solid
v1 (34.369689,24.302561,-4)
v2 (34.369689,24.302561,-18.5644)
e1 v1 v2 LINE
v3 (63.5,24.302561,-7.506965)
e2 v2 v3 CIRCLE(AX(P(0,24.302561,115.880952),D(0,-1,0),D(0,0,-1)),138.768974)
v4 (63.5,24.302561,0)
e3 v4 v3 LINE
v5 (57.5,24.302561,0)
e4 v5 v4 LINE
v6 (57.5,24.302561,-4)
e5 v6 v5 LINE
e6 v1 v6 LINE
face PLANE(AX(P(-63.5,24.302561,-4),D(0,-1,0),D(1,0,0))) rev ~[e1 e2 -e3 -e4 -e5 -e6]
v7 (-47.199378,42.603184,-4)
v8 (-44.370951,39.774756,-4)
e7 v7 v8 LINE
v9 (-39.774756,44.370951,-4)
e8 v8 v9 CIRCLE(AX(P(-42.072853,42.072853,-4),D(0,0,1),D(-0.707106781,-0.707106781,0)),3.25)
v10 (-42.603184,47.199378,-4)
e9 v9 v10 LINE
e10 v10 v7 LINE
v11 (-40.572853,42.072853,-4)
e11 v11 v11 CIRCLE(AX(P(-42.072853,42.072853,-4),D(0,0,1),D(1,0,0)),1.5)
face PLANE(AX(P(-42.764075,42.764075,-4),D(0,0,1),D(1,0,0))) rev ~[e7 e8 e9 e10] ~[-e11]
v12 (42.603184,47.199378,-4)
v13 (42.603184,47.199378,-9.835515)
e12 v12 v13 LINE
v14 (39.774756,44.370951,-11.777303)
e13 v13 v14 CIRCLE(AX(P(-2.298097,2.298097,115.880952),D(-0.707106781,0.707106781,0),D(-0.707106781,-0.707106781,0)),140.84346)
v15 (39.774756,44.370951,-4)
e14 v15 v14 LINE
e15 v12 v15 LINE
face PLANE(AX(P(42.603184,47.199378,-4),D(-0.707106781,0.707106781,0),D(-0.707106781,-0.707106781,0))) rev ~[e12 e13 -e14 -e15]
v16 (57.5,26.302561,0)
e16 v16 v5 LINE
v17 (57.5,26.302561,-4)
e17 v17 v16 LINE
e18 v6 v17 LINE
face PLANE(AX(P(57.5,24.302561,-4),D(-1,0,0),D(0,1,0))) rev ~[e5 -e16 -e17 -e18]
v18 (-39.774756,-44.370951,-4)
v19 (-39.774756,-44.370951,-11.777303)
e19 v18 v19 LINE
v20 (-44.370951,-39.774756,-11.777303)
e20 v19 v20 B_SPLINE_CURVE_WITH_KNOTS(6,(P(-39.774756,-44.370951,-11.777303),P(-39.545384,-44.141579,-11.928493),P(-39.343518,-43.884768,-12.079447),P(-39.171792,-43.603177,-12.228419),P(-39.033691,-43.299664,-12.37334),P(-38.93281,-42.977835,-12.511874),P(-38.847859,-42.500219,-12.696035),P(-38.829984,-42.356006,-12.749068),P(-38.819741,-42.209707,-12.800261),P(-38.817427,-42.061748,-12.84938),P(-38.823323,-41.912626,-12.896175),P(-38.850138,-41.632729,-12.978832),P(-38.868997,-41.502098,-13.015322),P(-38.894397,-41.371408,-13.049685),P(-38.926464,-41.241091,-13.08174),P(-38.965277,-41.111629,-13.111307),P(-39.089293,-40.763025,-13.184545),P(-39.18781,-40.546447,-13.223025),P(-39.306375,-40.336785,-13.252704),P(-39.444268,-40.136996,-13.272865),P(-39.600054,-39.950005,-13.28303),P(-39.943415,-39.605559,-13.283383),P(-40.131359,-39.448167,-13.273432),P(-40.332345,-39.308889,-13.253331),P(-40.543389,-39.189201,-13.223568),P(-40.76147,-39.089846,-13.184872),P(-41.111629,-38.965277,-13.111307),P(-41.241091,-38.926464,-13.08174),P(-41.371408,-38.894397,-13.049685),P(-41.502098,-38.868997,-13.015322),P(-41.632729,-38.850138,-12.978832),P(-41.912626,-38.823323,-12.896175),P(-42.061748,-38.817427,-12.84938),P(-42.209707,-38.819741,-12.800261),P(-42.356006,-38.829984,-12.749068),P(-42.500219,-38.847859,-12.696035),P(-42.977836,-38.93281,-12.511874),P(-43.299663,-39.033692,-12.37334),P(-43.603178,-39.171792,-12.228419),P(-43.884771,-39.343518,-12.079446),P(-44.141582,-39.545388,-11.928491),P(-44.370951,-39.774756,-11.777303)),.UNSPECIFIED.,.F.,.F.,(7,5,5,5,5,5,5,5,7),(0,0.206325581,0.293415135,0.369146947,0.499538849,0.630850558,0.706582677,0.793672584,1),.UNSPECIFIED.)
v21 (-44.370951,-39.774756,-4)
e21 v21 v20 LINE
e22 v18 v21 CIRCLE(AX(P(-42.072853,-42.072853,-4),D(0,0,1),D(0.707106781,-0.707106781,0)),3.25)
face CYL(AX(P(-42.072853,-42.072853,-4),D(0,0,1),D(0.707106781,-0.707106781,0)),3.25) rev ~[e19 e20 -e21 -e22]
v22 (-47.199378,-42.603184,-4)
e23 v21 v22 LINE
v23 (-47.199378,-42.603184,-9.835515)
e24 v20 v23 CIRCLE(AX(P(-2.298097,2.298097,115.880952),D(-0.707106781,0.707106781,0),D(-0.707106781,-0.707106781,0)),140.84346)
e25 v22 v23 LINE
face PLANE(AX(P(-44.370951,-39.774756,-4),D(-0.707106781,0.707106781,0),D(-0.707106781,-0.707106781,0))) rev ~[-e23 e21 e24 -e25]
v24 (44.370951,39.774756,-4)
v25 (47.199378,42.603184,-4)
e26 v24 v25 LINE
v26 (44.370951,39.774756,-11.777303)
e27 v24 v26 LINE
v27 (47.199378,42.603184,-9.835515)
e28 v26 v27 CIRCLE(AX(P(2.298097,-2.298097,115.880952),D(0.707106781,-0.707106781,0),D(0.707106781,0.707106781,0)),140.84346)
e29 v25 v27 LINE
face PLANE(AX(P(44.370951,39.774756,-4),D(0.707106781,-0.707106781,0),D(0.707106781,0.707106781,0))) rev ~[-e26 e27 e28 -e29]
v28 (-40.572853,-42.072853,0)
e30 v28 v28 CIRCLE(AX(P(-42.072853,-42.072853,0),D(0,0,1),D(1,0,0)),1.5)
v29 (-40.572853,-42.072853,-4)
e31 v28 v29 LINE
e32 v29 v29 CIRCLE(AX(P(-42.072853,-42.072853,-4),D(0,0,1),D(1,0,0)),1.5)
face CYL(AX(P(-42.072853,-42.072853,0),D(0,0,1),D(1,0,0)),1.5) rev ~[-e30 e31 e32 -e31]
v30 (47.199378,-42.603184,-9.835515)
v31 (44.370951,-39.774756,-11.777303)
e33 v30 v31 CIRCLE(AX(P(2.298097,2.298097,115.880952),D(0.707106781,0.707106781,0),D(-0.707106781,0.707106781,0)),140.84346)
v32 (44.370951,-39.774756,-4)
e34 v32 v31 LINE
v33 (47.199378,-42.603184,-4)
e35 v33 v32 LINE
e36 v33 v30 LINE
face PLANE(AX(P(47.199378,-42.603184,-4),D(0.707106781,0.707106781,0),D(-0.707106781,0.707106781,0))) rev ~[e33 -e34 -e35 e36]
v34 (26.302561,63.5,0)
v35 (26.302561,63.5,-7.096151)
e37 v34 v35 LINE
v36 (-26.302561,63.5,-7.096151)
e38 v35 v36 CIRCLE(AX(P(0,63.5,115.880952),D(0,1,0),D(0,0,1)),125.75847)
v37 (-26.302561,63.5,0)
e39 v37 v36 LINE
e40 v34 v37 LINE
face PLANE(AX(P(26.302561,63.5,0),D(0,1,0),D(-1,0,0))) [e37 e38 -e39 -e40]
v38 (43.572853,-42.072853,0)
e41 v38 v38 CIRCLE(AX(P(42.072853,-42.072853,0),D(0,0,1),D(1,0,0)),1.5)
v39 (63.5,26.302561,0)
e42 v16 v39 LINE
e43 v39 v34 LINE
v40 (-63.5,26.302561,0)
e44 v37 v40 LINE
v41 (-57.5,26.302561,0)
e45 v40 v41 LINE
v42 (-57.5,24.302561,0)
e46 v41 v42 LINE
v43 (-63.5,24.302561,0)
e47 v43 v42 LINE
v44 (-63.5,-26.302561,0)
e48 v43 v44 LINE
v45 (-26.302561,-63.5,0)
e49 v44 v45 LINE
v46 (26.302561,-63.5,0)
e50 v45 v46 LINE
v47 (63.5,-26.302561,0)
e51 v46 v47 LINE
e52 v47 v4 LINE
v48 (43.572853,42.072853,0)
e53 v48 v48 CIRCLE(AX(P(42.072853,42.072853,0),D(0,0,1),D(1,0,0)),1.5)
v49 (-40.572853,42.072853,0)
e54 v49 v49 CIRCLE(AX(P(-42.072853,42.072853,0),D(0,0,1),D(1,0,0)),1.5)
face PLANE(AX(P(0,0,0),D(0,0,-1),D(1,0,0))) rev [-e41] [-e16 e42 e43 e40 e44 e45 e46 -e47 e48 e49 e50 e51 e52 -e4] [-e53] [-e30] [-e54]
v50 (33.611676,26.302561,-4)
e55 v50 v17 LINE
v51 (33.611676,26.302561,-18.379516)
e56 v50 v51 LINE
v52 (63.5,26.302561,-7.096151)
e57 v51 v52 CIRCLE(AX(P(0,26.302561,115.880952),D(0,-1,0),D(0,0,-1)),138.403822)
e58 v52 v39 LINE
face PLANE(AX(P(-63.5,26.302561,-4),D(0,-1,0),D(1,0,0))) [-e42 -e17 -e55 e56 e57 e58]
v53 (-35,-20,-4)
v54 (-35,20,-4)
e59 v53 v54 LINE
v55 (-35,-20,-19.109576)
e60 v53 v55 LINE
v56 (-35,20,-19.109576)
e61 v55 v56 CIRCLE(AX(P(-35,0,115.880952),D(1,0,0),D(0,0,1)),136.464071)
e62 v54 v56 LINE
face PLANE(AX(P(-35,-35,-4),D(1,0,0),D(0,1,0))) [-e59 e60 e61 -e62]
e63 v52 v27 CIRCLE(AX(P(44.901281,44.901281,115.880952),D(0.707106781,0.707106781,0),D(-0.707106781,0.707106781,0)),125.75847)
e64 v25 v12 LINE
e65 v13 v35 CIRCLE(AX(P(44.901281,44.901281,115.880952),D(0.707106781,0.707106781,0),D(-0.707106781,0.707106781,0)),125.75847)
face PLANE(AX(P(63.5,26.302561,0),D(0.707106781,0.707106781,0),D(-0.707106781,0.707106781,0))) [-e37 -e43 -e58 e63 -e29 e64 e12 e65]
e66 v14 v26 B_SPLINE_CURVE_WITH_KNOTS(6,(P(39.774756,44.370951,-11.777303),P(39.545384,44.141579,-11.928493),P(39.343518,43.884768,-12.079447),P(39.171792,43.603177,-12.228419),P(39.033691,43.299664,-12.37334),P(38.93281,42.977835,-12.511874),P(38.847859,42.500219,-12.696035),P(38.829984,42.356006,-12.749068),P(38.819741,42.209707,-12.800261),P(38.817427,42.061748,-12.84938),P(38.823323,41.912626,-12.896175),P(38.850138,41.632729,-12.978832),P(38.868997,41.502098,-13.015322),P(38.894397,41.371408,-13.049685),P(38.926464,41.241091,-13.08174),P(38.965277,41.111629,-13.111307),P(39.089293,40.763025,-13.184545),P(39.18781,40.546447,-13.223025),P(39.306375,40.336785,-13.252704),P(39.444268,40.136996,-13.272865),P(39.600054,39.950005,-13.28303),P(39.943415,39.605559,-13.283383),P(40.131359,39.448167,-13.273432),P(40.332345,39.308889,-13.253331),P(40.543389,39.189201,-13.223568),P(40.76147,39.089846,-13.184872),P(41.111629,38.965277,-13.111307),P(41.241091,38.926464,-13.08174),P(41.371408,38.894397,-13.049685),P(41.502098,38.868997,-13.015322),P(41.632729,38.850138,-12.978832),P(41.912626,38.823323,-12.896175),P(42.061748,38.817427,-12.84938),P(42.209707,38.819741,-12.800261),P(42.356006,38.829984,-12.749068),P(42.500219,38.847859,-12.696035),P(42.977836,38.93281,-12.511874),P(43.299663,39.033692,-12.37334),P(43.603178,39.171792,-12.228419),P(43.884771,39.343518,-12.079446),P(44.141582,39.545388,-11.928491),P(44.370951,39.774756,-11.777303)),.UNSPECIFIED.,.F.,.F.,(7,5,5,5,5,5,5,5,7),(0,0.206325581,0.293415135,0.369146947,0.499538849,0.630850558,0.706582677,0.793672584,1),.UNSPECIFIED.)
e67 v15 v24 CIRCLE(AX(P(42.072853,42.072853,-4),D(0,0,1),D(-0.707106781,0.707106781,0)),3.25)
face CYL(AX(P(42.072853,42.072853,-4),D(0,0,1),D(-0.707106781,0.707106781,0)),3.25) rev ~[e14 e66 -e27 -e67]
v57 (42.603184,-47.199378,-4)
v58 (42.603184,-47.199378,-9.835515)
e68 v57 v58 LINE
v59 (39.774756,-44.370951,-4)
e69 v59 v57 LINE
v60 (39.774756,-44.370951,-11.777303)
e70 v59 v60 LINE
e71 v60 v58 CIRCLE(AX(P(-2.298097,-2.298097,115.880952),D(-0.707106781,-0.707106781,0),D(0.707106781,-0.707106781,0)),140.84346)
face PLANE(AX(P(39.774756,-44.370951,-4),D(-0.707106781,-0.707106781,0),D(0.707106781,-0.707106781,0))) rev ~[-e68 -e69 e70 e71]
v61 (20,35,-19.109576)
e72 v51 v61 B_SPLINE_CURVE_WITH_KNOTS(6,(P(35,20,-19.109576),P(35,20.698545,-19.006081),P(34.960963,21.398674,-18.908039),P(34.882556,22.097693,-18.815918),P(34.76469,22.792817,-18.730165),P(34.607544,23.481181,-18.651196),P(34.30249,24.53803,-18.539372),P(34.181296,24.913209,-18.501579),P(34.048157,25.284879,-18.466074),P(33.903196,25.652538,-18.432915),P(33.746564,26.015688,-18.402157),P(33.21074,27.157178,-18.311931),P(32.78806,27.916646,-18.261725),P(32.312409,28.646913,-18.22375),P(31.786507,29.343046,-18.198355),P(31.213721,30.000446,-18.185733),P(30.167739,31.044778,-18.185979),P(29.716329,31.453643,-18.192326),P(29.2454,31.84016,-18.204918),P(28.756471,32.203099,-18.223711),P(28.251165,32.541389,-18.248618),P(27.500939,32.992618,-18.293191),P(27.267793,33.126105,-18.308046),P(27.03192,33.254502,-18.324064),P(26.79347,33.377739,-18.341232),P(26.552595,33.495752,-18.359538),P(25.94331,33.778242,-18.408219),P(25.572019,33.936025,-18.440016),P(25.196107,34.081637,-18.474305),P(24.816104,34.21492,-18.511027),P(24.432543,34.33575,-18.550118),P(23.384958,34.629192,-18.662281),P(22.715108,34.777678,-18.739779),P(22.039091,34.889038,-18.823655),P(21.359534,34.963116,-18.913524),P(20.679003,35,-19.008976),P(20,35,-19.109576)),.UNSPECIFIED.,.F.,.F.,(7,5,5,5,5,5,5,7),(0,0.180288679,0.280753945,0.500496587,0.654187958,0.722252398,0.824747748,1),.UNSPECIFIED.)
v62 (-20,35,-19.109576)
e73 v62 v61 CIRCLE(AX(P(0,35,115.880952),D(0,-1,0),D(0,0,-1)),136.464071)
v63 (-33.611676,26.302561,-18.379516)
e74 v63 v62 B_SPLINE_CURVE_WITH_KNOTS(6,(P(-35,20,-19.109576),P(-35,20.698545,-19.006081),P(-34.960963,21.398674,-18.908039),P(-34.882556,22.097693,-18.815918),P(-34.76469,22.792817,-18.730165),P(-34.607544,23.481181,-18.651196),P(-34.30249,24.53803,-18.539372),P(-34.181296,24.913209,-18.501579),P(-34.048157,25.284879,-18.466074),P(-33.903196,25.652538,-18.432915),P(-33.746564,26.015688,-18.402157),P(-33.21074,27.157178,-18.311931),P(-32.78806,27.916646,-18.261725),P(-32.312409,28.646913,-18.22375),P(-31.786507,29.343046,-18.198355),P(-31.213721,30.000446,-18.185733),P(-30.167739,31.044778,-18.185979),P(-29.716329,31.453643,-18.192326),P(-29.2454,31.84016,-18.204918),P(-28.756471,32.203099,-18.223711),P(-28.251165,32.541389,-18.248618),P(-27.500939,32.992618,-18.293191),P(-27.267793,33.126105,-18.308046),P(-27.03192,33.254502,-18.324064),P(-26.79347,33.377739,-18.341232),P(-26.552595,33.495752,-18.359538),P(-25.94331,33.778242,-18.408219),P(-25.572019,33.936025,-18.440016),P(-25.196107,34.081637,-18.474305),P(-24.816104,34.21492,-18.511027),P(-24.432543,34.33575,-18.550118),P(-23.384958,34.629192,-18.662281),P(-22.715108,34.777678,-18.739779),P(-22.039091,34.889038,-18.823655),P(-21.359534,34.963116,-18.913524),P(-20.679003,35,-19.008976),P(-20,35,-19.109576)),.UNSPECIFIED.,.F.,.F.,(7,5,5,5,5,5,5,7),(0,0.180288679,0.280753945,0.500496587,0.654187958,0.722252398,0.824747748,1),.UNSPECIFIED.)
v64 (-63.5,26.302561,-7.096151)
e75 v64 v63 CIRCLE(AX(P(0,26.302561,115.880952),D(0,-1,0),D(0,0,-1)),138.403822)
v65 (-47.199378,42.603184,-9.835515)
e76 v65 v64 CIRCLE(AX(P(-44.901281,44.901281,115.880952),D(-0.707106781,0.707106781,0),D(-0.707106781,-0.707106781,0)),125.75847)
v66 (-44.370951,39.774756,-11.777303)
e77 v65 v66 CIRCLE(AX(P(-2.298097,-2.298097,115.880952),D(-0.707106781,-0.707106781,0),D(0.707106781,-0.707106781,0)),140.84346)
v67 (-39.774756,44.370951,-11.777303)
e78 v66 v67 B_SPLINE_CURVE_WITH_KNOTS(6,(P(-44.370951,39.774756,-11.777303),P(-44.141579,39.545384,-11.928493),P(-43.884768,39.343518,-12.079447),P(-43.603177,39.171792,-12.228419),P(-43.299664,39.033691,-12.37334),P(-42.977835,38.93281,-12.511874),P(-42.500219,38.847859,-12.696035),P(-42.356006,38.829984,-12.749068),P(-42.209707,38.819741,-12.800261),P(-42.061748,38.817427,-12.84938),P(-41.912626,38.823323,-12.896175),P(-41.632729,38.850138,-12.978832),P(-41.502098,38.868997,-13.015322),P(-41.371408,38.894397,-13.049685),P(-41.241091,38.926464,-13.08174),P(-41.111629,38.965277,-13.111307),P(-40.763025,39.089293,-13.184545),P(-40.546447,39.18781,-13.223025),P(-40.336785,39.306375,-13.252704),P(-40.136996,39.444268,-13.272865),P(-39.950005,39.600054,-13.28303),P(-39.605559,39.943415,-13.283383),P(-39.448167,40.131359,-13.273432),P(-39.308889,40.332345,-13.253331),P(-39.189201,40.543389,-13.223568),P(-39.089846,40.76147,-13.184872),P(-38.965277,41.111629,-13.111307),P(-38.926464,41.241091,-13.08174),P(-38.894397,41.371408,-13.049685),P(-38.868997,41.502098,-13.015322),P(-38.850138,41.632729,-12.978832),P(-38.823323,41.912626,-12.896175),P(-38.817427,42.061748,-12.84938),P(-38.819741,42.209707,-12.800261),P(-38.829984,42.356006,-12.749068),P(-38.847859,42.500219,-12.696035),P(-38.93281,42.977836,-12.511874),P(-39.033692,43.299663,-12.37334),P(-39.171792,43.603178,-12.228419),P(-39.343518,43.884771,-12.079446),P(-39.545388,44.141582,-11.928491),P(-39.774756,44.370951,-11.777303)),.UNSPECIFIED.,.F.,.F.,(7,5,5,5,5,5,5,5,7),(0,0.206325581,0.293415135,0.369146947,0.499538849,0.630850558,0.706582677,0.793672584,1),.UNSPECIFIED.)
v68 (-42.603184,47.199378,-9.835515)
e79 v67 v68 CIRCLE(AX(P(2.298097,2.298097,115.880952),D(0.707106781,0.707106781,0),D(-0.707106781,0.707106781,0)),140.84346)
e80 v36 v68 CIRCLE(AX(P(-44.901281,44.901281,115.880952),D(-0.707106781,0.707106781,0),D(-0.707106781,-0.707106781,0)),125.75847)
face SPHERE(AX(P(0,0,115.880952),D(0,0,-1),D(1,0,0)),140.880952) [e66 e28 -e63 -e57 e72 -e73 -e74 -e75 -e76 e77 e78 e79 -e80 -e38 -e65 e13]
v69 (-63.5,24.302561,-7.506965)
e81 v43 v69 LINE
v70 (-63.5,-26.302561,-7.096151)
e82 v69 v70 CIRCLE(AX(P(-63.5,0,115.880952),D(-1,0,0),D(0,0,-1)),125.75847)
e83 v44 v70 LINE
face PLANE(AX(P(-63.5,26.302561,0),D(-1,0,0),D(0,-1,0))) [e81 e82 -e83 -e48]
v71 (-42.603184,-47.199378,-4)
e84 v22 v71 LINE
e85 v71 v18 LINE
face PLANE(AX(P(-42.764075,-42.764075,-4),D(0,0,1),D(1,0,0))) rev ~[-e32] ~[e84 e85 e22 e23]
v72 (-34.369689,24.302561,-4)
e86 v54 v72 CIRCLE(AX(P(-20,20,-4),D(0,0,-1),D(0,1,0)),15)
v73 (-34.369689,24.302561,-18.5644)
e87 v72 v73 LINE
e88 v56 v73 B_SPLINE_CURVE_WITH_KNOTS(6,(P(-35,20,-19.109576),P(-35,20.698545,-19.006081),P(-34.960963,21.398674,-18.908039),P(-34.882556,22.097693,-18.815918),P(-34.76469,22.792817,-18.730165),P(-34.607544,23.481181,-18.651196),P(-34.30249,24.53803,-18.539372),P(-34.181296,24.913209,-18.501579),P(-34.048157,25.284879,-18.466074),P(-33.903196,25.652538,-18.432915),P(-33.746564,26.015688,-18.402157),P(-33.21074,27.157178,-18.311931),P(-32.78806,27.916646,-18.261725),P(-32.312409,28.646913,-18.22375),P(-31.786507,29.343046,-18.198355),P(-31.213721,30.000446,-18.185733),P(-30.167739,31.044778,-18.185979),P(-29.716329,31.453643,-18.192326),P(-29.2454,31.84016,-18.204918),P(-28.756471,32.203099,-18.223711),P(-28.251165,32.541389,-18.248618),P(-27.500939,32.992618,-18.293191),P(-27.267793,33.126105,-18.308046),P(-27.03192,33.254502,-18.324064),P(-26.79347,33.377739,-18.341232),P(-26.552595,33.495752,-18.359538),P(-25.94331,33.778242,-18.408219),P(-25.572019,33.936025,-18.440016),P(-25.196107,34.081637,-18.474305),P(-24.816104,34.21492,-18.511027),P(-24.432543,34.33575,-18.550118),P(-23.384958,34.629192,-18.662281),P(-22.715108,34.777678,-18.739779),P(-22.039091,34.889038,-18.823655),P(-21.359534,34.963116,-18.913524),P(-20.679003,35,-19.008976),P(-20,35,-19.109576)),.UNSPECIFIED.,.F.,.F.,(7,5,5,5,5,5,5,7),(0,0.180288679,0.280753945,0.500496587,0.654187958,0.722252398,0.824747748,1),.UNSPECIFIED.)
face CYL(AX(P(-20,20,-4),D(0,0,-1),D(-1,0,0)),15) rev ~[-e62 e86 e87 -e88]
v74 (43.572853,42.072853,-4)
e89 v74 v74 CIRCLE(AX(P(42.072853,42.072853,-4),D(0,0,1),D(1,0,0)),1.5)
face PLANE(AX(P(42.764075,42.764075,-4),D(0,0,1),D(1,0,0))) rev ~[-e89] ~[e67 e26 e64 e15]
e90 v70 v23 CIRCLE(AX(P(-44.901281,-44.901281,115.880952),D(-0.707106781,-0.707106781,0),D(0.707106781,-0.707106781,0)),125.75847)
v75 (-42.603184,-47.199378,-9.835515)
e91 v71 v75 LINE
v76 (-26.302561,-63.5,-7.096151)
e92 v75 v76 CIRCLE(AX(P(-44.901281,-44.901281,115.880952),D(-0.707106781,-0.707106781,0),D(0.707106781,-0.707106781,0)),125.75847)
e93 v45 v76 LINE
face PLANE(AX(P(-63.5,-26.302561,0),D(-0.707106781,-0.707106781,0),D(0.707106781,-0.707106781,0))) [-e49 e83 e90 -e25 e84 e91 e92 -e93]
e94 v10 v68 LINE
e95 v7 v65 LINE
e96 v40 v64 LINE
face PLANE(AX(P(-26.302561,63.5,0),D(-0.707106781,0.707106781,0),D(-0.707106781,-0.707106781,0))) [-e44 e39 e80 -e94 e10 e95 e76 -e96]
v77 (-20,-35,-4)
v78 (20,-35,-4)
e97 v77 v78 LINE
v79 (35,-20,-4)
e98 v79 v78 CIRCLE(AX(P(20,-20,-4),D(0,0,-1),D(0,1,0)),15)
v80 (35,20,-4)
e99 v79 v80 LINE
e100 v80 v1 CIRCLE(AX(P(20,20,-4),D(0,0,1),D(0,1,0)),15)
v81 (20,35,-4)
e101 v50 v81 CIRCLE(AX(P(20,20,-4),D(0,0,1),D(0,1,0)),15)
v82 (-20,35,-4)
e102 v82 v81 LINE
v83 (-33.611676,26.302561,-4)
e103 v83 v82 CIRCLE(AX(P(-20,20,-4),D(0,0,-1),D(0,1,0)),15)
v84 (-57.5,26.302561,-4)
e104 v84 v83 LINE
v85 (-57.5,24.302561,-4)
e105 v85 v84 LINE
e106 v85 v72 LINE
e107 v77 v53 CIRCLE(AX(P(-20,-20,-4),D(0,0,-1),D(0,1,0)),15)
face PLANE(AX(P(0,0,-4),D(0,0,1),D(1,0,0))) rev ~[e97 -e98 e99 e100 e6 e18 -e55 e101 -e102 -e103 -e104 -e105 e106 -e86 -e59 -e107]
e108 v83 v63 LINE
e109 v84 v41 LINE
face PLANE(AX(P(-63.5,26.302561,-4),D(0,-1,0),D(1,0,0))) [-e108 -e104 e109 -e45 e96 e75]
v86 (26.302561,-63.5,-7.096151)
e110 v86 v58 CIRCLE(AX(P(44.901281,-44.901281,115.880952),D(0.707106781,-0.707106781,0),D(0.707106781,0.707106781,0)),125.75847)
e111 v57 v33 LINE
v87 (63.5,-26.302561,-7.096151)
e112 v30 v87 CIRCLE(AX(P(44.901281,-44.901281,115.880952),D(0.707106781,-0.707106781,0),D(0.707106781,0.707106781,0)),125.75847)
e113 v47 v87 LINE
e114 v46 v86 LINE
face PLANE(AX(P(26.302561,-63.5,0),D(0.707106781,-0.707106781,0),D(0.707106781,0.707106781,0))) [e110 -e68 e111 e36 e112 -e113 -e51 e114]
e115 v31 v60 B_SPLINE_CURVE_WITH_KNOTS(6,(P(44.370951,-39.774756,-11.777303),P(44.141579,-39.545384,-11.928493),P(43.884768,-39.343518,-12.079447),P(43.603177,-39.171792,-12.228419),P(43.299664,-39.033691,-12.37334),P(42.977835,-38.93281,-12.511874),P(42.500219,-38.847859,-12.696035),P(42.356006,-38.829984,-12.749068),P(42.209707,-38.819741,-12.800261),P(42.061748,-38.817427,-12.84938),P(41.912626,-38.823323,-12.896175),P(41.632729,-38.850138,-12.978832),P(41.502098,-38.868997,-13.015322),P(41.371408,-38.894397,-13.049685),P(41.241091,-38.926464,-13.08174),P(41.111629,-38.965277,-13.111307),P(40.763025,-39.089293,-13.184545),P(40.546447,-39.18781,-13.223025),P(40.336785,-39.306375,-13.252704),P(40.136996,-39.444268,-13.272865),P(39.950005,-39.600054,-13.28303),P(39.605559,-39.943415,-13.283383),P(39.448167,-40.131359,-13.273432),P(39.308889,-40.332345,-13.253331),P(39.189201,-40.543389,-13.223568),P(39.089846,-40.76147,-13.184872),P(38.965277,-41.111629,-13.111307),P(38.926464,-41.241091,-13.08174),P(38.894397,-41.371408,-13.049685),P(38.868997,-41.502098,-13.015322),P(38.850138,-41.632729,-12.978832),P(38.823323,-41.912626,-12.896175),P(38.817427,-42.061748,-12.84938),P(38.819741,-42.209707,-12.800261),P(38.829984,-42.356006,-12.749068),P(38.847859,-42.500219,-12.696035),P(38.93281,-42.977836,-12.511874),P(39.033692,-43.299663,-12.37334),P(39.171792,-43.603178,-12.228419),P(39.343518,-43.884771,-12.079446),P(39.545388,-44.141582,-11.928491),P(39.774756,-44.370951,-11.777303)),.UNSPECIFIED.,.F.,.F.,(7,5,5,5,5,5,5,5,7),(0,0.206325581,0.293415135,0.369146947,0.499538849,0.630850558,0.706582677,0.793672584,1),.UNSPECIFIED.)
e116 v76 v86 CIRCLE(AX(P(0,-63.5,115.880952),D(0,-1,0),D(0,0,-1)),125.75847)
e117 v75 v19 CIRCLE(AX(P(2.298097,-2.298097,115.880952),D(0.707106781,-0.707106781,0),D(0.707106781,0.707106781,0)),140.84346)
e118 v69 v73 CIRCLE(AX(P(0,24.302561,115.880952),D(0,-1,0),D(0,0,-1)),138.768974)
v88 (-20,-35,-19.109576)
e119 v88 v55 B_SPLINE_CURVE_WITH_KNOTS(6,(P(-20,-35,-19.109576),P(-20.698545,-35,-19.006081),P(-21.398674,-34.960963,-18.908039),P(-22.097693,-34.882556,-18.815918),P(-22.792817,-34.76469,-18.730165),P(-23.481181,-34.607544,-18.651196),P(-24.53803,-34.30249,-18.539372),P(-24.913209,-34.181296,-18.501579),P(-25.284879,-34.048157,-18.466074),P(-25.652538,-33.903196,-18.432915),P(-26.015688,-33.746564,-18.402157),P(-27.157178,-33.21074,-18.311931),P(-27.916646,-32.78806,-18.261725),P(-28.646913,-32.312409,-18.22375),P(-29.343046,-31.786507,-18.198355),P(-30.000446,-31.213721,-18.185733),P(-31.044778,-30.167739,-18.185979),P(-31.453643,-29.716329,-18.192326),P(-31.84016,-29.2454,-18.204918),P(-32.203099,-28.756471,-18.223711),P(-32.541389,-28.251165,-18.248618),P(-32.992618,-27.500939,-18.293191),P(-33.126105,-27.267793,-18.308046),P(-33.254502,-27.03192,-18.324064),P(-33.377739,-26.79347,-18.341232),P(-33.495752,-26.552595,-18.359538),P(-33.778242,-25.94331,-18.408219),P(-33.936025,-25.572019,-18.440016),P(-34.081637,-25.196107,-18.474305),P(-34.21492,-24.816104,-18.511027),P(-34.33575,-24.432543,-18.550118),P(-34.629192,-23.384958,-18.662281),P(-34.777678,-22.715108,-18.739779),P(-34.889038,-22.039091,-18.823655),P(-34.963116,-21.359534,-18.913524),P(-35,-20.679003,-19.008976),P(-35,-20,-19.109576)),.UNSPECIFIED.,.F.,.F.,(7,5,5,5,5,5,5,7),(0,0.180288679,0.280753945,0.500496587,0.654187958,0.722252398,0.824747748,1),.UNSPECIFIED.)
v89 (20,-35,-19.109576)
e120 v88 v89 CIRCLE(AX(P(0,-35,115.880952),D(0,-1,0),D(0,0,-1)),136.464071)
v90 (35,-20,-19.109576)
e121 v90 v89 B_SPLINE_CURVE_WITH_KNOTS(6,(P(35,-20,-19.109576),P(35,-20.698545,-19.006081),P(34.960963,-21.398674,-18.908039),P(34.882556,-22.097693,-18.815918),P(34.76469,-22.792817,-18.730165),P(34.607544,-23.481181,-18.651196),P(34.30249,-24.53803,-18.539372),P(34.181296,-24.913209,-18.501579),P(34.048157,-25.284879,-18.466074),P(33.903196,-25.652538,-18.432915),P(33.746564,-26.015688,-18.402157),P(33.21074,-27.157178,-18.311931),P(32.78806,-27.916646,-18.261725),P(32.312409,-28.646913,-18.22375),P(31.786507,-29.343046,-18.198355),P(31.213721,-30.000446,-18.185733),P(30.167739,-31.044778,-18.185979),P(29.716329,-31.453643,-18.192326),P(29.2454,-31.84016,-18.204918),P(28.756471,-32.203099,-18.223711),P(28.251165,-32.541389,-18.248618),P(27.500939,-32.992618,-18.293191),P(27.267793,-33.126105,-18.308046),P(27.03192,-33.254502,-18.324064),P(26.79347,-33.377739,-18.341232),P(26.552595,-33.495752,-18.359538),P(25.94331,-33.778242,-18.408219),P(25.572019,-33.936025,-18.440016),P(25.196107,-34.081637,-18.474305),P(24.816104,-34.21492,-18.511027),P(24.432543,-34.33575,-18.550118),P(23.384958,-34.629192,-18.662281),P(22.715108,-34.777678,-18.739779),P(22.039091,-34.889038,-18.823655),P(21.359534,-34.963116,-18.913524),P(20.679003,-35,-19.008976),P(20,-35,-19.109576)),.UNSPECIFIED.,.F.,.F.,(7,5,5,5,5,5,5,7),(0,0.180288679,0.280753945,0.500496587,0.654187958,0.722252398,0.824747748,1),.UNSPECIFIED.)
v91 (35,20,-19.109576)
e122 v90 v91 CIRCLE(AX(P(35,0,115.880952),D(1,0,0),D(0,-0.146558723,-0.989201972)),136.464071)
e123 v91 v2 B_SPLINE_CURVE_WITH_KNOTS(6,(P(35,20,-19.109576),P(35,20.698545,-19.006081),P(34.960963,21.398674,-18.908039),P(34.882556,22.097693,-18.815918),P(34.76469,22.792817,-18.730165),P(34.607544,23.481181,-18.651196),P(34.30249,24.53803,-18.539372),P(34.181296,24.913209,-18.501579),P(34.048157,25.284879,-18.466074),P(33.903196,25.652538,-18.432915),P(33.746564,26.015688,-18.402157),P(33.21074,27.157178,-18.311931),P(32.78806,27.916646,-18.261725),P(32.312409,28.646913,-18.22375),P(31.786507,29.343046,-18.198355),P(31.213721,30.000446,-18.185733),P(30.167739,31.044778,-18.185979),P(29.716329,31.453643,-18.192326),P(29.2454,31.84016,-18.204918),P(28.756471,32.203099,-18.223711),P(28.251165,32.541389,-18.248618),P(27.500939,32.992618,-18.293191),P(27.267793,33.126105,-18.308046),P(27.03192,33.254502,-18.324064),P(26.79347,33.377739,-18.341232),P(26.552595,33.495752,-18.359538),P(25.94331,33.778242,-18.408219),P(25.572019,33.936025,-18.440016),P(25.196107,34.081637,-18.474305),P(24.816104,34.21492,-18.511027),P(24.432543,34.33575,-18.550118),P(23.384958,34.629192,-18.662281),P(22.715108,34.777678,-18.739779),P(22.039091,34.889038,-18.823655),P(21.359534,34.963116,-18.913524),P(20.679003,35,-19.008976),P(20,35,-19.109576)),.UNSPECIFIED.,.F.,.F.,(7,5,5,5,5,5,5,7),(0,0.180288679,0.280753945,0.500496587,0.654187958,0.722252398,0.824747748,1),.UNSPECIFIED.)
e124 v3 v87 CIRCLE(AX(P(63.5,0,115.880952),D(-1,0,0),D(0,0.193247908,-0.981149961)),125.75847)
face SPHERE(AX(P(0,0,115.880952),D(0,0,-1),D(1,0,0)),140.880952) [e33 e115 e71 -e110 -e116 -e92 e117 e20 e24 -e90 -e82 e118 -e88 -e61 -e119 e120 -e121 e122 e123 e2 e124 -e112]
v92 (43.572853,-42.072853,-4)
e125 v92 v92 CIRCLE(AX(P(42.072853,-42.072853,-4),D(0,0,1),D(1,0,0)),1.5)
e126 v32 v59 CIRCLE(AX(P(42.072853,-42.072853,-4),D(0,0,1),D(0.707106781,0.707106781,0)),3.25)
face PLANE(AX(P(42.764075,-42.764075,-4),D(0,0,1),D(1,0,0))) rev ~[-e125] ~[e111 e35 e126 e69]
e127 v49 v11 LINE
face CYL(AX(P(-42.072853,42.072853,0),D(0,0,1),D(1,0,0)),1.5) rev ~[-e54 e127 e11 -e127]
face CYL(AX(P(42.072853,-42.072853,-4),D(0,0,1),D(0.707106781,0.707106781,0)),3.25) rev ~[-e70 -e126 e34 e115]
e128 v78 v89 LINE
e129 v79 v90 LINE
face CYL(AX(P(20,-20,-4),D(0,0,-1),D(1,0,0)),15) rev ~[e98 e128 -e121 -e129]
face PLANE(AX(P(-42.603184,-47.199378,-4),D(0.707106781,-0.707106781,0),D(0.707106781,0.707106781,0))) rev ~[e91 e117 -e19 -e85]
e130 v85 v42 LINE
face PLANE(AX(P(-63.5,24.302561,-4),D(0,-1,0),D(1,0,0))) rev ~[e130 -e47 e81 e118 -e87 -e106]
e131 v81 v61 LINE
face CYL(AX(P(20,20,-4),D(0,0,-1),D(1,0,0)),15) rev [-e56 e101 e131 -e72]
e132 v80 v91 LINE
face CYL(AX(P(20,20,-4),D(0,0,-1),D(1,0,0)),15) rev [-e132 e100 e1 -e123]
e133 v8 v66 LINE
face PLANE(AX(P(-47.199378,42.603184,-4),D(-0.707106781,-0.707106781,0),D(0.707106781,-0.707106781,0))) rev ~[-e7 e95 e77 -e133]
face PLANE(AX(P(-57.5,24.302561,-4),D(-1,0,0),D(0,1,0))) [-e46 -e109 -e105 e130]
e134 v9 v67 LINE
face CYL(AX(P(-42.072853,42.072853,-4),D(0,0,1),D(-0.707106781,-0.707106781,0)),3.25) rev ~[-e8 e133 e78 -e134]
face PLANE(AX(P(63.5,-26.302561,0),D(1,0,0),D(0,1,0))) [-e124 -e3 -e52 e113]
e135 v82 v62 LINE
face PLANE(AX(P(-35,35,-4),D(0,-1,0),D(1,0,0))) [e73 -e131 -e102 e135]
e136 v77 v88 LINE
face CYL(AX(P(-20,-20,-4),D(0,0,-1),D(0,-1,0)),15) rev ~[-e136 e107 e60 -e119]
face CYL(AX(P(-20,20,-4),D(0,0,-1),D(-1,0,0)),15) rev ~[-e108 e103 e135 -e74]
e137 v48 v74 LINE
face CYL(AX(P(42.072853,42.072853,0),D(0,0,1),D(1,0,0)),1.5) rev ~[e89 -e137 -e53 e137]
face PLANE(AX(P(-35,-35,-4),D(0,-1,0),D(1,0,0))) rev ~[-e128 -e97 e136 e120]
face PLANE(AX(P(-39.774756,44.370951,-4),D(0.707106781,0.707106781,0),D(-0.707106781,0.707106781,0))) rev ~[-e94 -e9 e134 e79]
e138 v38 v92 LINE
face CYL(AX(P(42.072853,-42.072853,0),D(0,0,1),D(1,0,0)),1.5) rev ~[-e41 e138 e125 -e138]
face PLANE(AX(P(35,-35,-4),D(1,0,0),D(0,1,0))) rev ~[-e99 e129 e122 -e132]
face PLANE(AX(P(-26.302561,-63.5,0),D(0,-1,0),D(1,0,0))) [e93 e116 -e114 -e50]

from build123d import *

# Parameters (mm, degrees)
ESBO_O1_OUTSIDE_W     = 192.158
ESBO_O1_OUTSIDE_H     = 192.158
CORTE_EXTRUS_O1_DEPTH = 108.596468344
CORTE_EXTRUS_O2_START = -4
ESBO_O3_W             = 70
ESBO_O3_H             = 70
CORTE_EXTRUS_O2_DEPTH = 90.21748763
FILETE1_R             = 15
ESBO_O4_W             = 127
ESBO_O4_H             = 2
CORTE_EXTRUS_O4_DEPTH = 92.320862119
ESBO_O5_W             = 6
ESBO_O5_H             = 2
CORTE_EXTRUS_O5_DEPTH = 92.320862119
ESBO_O6_R             = 1.5
CORTE_EXTRUS_O7_DEPTH = 93.131236882
CORTE_EXTRUS_O8_START = -4
CORTE_EXTRUS_O8_DEPTH = 89.131236882


with BuildPart() as part:
    # Esboço2 → Revolução1 (revolve)
    with BuildSketch(Plane(origin=(0, 0, 0), x_dir=(0, 0, -1), z_dir=(1, 0, 0)), mode=Mode.PRIVATE) as revolu_o1_sk:
        with BuildLine():
            Line((0, 74), (4, 74))
            ThreePointArc((4, 74), (19.648353468, 38.461019227), (25, 0))
            Line((25, 0), (0, 0))
            Line((0, 0), (0, 74))
        make_face()
    revolve(revolu_o1_sk.sketch.rotate(Axis((0, 0, 0), (0, 0, -1)), 90), axis=Axis((0, 0, 0), (0, 0, -1)))

    # Esboço1 outside → Corte-extrusão1 (cut, through all)
    with BuildSketch(Plane.XY):
        Rectangle(ESBO_O1_OUTSIDE_W, ESBO_O1_OUTSIDE_H)
        Polygon((63.5, 26.302561211), (26.302561211, 63.5), (-26.302561211, 63.5), (-63.5, 26.302561211), (-63.5, -26.302561211), (-26.302561211, -63.5), (26.302561211, -63.5), (63.5, -26.302561211), align=None, mode=Mode.SUBTRACT)
    extrude(amount=-CORTE_EXTRUS_O1_DEPTH, mode=Mode.SUBTRACT)

    # Esboço3 → Corte-extrusão2 (cut, through all)
    with BuildSketch(Plane.XY.offset(CORTE_EXTRUS_O2_START)):
        Rectangle(ESBO_O3_W, ESBO_O3_H)
    extrude(amount=-CORTE_EXTRUS_O2_DEPTH, mode=Mode.SUBTRACT)

    # Filete1
    filete1_edges = [part.edges().sort_by_distance(p)[0] for p in [
        (35, 35, -10.009206795),
        (35, -35, -10.009206795),
        (-35, -35, -10.009206795),
        (-35, 35, -10.009206795),
    ]]
    fillet(filete1_edges, radius=FILETE1_R)

    # Esboço4 → Corte-extrusão4 (cut, through all)
    with BuildSketch(Plane.XY.offset(-4)):
        with Locations((0, 25.302561211)):
            Rectangle(ESBO_O4_W, ESBO_O4_H)
    extrude(amount=-CORTE_EXTRUS_O4_DEPTH, mode=Mode.SUBTRACT)

    # Esboço5 → Corte-extrusão5 (cut, through all)
    with BuildSketch(Plane(origin=(0, 0, -4), x_dir=(-1, 0, 0), z_dir=(0, 0, -1))):
        with Locations((-60.5, 25.302561211)):
            Rectangle(ESBO_O5_W, ESBO_O5_H)
        with Locations((60.5, 25.302561211)):
            Rectangle(ESBO_O5_W, ESBO_O5_H)
    extrude(amount=-CORTE_EXTRUS_O5_DEPTH, mode=Mode.SUBTRACT)

    # Esboço6 → Corte-extrusão7 (cut, through all)
    with BuildSketch(Plane.XY):
        with Locations((42.072853481, -42.072853481)):
            Circle(ESBO_O6_R)
        with Locations((-42.072853481, -42.072853481)):
            Circle(ESBO_O6_R)
        with Locations((-42.072853481, 42.072853481)):
            Circle(ESBO_O6_R)
        with Locations((42.072853481, 42.072853481)):
            Circle(ESBO_O6_R)
    extrude(amount=-CORTE_EXTRUS_O7_DEPTH, mode=Mode.SUBTRACT)

    # Esboço7 → Corte-extrusão8 (cut, through all)
    with BuildSketch(Plane.XY.offset(CORTE_EXTRUS_O8_START)):
        with BuildLine():
            Line((42.603183566, 47.199377644), (39.774756442, 44.370950519))
            ThreePointArc((39.774756442, 44.370950519), (39.774756442, 39.774756442), (44.370950519, 39.774756442))
            Line((44.370950519, 39.774756442), (47.199377644, 42.603183566))
            Line((47.199377644, 42.603183566), (42.603183566, 47.199377644))
        make_face()
        with BuildLine():
            Line((-47.199377644, 42.603183566), (-44.370950519, 39.774756442))
            ThreePointArc((-44.370950519, 39.774756442), (-39.774756442, 39.774756442), (-39.774756442, 44.370950519))
            Line((-39.774756442, 44.370950519), (-42.603183566, 47.199377644))
            Line((-42.603183566, 47.199377644), (-47.199377644, 42.603183566))
        make_face()
        with BuildLine():
            Line((47.199377644, -42.603183566), (44.370950519, -39.774756442))
            ThreePointArc((44.370950519, -39.774756442), (39.774756442, -39.774756442), (39.774756442, -44.370950519))
            Line((39.774756442, -44.370950519), (42.603183566, -47.199377644))
            Line((42.603183566, -47.199377644), (47.199377644, -42.603183566))
        make_face()
        with BuildLine():
            Line((-42.603183566, -47.199377644), (-39.774756442, -44.370950519))
            ThreePointArc((-39.774756442, -44.370950519), (-39.774756442, -39.774756442), (-44.370950519, -39.774756442))
            Line((-44.370950519, -39.774756442), (-47.199377644, -42.603183566))
            Line((-47.199377644, -42.603183566), (-42.603183566, -47.199377644))
        make_face()
    extrude(amount=-CORTE_EXTRUS_O8_DEPTH, mode=Mode.SUBTRACT)


solid = part.part
